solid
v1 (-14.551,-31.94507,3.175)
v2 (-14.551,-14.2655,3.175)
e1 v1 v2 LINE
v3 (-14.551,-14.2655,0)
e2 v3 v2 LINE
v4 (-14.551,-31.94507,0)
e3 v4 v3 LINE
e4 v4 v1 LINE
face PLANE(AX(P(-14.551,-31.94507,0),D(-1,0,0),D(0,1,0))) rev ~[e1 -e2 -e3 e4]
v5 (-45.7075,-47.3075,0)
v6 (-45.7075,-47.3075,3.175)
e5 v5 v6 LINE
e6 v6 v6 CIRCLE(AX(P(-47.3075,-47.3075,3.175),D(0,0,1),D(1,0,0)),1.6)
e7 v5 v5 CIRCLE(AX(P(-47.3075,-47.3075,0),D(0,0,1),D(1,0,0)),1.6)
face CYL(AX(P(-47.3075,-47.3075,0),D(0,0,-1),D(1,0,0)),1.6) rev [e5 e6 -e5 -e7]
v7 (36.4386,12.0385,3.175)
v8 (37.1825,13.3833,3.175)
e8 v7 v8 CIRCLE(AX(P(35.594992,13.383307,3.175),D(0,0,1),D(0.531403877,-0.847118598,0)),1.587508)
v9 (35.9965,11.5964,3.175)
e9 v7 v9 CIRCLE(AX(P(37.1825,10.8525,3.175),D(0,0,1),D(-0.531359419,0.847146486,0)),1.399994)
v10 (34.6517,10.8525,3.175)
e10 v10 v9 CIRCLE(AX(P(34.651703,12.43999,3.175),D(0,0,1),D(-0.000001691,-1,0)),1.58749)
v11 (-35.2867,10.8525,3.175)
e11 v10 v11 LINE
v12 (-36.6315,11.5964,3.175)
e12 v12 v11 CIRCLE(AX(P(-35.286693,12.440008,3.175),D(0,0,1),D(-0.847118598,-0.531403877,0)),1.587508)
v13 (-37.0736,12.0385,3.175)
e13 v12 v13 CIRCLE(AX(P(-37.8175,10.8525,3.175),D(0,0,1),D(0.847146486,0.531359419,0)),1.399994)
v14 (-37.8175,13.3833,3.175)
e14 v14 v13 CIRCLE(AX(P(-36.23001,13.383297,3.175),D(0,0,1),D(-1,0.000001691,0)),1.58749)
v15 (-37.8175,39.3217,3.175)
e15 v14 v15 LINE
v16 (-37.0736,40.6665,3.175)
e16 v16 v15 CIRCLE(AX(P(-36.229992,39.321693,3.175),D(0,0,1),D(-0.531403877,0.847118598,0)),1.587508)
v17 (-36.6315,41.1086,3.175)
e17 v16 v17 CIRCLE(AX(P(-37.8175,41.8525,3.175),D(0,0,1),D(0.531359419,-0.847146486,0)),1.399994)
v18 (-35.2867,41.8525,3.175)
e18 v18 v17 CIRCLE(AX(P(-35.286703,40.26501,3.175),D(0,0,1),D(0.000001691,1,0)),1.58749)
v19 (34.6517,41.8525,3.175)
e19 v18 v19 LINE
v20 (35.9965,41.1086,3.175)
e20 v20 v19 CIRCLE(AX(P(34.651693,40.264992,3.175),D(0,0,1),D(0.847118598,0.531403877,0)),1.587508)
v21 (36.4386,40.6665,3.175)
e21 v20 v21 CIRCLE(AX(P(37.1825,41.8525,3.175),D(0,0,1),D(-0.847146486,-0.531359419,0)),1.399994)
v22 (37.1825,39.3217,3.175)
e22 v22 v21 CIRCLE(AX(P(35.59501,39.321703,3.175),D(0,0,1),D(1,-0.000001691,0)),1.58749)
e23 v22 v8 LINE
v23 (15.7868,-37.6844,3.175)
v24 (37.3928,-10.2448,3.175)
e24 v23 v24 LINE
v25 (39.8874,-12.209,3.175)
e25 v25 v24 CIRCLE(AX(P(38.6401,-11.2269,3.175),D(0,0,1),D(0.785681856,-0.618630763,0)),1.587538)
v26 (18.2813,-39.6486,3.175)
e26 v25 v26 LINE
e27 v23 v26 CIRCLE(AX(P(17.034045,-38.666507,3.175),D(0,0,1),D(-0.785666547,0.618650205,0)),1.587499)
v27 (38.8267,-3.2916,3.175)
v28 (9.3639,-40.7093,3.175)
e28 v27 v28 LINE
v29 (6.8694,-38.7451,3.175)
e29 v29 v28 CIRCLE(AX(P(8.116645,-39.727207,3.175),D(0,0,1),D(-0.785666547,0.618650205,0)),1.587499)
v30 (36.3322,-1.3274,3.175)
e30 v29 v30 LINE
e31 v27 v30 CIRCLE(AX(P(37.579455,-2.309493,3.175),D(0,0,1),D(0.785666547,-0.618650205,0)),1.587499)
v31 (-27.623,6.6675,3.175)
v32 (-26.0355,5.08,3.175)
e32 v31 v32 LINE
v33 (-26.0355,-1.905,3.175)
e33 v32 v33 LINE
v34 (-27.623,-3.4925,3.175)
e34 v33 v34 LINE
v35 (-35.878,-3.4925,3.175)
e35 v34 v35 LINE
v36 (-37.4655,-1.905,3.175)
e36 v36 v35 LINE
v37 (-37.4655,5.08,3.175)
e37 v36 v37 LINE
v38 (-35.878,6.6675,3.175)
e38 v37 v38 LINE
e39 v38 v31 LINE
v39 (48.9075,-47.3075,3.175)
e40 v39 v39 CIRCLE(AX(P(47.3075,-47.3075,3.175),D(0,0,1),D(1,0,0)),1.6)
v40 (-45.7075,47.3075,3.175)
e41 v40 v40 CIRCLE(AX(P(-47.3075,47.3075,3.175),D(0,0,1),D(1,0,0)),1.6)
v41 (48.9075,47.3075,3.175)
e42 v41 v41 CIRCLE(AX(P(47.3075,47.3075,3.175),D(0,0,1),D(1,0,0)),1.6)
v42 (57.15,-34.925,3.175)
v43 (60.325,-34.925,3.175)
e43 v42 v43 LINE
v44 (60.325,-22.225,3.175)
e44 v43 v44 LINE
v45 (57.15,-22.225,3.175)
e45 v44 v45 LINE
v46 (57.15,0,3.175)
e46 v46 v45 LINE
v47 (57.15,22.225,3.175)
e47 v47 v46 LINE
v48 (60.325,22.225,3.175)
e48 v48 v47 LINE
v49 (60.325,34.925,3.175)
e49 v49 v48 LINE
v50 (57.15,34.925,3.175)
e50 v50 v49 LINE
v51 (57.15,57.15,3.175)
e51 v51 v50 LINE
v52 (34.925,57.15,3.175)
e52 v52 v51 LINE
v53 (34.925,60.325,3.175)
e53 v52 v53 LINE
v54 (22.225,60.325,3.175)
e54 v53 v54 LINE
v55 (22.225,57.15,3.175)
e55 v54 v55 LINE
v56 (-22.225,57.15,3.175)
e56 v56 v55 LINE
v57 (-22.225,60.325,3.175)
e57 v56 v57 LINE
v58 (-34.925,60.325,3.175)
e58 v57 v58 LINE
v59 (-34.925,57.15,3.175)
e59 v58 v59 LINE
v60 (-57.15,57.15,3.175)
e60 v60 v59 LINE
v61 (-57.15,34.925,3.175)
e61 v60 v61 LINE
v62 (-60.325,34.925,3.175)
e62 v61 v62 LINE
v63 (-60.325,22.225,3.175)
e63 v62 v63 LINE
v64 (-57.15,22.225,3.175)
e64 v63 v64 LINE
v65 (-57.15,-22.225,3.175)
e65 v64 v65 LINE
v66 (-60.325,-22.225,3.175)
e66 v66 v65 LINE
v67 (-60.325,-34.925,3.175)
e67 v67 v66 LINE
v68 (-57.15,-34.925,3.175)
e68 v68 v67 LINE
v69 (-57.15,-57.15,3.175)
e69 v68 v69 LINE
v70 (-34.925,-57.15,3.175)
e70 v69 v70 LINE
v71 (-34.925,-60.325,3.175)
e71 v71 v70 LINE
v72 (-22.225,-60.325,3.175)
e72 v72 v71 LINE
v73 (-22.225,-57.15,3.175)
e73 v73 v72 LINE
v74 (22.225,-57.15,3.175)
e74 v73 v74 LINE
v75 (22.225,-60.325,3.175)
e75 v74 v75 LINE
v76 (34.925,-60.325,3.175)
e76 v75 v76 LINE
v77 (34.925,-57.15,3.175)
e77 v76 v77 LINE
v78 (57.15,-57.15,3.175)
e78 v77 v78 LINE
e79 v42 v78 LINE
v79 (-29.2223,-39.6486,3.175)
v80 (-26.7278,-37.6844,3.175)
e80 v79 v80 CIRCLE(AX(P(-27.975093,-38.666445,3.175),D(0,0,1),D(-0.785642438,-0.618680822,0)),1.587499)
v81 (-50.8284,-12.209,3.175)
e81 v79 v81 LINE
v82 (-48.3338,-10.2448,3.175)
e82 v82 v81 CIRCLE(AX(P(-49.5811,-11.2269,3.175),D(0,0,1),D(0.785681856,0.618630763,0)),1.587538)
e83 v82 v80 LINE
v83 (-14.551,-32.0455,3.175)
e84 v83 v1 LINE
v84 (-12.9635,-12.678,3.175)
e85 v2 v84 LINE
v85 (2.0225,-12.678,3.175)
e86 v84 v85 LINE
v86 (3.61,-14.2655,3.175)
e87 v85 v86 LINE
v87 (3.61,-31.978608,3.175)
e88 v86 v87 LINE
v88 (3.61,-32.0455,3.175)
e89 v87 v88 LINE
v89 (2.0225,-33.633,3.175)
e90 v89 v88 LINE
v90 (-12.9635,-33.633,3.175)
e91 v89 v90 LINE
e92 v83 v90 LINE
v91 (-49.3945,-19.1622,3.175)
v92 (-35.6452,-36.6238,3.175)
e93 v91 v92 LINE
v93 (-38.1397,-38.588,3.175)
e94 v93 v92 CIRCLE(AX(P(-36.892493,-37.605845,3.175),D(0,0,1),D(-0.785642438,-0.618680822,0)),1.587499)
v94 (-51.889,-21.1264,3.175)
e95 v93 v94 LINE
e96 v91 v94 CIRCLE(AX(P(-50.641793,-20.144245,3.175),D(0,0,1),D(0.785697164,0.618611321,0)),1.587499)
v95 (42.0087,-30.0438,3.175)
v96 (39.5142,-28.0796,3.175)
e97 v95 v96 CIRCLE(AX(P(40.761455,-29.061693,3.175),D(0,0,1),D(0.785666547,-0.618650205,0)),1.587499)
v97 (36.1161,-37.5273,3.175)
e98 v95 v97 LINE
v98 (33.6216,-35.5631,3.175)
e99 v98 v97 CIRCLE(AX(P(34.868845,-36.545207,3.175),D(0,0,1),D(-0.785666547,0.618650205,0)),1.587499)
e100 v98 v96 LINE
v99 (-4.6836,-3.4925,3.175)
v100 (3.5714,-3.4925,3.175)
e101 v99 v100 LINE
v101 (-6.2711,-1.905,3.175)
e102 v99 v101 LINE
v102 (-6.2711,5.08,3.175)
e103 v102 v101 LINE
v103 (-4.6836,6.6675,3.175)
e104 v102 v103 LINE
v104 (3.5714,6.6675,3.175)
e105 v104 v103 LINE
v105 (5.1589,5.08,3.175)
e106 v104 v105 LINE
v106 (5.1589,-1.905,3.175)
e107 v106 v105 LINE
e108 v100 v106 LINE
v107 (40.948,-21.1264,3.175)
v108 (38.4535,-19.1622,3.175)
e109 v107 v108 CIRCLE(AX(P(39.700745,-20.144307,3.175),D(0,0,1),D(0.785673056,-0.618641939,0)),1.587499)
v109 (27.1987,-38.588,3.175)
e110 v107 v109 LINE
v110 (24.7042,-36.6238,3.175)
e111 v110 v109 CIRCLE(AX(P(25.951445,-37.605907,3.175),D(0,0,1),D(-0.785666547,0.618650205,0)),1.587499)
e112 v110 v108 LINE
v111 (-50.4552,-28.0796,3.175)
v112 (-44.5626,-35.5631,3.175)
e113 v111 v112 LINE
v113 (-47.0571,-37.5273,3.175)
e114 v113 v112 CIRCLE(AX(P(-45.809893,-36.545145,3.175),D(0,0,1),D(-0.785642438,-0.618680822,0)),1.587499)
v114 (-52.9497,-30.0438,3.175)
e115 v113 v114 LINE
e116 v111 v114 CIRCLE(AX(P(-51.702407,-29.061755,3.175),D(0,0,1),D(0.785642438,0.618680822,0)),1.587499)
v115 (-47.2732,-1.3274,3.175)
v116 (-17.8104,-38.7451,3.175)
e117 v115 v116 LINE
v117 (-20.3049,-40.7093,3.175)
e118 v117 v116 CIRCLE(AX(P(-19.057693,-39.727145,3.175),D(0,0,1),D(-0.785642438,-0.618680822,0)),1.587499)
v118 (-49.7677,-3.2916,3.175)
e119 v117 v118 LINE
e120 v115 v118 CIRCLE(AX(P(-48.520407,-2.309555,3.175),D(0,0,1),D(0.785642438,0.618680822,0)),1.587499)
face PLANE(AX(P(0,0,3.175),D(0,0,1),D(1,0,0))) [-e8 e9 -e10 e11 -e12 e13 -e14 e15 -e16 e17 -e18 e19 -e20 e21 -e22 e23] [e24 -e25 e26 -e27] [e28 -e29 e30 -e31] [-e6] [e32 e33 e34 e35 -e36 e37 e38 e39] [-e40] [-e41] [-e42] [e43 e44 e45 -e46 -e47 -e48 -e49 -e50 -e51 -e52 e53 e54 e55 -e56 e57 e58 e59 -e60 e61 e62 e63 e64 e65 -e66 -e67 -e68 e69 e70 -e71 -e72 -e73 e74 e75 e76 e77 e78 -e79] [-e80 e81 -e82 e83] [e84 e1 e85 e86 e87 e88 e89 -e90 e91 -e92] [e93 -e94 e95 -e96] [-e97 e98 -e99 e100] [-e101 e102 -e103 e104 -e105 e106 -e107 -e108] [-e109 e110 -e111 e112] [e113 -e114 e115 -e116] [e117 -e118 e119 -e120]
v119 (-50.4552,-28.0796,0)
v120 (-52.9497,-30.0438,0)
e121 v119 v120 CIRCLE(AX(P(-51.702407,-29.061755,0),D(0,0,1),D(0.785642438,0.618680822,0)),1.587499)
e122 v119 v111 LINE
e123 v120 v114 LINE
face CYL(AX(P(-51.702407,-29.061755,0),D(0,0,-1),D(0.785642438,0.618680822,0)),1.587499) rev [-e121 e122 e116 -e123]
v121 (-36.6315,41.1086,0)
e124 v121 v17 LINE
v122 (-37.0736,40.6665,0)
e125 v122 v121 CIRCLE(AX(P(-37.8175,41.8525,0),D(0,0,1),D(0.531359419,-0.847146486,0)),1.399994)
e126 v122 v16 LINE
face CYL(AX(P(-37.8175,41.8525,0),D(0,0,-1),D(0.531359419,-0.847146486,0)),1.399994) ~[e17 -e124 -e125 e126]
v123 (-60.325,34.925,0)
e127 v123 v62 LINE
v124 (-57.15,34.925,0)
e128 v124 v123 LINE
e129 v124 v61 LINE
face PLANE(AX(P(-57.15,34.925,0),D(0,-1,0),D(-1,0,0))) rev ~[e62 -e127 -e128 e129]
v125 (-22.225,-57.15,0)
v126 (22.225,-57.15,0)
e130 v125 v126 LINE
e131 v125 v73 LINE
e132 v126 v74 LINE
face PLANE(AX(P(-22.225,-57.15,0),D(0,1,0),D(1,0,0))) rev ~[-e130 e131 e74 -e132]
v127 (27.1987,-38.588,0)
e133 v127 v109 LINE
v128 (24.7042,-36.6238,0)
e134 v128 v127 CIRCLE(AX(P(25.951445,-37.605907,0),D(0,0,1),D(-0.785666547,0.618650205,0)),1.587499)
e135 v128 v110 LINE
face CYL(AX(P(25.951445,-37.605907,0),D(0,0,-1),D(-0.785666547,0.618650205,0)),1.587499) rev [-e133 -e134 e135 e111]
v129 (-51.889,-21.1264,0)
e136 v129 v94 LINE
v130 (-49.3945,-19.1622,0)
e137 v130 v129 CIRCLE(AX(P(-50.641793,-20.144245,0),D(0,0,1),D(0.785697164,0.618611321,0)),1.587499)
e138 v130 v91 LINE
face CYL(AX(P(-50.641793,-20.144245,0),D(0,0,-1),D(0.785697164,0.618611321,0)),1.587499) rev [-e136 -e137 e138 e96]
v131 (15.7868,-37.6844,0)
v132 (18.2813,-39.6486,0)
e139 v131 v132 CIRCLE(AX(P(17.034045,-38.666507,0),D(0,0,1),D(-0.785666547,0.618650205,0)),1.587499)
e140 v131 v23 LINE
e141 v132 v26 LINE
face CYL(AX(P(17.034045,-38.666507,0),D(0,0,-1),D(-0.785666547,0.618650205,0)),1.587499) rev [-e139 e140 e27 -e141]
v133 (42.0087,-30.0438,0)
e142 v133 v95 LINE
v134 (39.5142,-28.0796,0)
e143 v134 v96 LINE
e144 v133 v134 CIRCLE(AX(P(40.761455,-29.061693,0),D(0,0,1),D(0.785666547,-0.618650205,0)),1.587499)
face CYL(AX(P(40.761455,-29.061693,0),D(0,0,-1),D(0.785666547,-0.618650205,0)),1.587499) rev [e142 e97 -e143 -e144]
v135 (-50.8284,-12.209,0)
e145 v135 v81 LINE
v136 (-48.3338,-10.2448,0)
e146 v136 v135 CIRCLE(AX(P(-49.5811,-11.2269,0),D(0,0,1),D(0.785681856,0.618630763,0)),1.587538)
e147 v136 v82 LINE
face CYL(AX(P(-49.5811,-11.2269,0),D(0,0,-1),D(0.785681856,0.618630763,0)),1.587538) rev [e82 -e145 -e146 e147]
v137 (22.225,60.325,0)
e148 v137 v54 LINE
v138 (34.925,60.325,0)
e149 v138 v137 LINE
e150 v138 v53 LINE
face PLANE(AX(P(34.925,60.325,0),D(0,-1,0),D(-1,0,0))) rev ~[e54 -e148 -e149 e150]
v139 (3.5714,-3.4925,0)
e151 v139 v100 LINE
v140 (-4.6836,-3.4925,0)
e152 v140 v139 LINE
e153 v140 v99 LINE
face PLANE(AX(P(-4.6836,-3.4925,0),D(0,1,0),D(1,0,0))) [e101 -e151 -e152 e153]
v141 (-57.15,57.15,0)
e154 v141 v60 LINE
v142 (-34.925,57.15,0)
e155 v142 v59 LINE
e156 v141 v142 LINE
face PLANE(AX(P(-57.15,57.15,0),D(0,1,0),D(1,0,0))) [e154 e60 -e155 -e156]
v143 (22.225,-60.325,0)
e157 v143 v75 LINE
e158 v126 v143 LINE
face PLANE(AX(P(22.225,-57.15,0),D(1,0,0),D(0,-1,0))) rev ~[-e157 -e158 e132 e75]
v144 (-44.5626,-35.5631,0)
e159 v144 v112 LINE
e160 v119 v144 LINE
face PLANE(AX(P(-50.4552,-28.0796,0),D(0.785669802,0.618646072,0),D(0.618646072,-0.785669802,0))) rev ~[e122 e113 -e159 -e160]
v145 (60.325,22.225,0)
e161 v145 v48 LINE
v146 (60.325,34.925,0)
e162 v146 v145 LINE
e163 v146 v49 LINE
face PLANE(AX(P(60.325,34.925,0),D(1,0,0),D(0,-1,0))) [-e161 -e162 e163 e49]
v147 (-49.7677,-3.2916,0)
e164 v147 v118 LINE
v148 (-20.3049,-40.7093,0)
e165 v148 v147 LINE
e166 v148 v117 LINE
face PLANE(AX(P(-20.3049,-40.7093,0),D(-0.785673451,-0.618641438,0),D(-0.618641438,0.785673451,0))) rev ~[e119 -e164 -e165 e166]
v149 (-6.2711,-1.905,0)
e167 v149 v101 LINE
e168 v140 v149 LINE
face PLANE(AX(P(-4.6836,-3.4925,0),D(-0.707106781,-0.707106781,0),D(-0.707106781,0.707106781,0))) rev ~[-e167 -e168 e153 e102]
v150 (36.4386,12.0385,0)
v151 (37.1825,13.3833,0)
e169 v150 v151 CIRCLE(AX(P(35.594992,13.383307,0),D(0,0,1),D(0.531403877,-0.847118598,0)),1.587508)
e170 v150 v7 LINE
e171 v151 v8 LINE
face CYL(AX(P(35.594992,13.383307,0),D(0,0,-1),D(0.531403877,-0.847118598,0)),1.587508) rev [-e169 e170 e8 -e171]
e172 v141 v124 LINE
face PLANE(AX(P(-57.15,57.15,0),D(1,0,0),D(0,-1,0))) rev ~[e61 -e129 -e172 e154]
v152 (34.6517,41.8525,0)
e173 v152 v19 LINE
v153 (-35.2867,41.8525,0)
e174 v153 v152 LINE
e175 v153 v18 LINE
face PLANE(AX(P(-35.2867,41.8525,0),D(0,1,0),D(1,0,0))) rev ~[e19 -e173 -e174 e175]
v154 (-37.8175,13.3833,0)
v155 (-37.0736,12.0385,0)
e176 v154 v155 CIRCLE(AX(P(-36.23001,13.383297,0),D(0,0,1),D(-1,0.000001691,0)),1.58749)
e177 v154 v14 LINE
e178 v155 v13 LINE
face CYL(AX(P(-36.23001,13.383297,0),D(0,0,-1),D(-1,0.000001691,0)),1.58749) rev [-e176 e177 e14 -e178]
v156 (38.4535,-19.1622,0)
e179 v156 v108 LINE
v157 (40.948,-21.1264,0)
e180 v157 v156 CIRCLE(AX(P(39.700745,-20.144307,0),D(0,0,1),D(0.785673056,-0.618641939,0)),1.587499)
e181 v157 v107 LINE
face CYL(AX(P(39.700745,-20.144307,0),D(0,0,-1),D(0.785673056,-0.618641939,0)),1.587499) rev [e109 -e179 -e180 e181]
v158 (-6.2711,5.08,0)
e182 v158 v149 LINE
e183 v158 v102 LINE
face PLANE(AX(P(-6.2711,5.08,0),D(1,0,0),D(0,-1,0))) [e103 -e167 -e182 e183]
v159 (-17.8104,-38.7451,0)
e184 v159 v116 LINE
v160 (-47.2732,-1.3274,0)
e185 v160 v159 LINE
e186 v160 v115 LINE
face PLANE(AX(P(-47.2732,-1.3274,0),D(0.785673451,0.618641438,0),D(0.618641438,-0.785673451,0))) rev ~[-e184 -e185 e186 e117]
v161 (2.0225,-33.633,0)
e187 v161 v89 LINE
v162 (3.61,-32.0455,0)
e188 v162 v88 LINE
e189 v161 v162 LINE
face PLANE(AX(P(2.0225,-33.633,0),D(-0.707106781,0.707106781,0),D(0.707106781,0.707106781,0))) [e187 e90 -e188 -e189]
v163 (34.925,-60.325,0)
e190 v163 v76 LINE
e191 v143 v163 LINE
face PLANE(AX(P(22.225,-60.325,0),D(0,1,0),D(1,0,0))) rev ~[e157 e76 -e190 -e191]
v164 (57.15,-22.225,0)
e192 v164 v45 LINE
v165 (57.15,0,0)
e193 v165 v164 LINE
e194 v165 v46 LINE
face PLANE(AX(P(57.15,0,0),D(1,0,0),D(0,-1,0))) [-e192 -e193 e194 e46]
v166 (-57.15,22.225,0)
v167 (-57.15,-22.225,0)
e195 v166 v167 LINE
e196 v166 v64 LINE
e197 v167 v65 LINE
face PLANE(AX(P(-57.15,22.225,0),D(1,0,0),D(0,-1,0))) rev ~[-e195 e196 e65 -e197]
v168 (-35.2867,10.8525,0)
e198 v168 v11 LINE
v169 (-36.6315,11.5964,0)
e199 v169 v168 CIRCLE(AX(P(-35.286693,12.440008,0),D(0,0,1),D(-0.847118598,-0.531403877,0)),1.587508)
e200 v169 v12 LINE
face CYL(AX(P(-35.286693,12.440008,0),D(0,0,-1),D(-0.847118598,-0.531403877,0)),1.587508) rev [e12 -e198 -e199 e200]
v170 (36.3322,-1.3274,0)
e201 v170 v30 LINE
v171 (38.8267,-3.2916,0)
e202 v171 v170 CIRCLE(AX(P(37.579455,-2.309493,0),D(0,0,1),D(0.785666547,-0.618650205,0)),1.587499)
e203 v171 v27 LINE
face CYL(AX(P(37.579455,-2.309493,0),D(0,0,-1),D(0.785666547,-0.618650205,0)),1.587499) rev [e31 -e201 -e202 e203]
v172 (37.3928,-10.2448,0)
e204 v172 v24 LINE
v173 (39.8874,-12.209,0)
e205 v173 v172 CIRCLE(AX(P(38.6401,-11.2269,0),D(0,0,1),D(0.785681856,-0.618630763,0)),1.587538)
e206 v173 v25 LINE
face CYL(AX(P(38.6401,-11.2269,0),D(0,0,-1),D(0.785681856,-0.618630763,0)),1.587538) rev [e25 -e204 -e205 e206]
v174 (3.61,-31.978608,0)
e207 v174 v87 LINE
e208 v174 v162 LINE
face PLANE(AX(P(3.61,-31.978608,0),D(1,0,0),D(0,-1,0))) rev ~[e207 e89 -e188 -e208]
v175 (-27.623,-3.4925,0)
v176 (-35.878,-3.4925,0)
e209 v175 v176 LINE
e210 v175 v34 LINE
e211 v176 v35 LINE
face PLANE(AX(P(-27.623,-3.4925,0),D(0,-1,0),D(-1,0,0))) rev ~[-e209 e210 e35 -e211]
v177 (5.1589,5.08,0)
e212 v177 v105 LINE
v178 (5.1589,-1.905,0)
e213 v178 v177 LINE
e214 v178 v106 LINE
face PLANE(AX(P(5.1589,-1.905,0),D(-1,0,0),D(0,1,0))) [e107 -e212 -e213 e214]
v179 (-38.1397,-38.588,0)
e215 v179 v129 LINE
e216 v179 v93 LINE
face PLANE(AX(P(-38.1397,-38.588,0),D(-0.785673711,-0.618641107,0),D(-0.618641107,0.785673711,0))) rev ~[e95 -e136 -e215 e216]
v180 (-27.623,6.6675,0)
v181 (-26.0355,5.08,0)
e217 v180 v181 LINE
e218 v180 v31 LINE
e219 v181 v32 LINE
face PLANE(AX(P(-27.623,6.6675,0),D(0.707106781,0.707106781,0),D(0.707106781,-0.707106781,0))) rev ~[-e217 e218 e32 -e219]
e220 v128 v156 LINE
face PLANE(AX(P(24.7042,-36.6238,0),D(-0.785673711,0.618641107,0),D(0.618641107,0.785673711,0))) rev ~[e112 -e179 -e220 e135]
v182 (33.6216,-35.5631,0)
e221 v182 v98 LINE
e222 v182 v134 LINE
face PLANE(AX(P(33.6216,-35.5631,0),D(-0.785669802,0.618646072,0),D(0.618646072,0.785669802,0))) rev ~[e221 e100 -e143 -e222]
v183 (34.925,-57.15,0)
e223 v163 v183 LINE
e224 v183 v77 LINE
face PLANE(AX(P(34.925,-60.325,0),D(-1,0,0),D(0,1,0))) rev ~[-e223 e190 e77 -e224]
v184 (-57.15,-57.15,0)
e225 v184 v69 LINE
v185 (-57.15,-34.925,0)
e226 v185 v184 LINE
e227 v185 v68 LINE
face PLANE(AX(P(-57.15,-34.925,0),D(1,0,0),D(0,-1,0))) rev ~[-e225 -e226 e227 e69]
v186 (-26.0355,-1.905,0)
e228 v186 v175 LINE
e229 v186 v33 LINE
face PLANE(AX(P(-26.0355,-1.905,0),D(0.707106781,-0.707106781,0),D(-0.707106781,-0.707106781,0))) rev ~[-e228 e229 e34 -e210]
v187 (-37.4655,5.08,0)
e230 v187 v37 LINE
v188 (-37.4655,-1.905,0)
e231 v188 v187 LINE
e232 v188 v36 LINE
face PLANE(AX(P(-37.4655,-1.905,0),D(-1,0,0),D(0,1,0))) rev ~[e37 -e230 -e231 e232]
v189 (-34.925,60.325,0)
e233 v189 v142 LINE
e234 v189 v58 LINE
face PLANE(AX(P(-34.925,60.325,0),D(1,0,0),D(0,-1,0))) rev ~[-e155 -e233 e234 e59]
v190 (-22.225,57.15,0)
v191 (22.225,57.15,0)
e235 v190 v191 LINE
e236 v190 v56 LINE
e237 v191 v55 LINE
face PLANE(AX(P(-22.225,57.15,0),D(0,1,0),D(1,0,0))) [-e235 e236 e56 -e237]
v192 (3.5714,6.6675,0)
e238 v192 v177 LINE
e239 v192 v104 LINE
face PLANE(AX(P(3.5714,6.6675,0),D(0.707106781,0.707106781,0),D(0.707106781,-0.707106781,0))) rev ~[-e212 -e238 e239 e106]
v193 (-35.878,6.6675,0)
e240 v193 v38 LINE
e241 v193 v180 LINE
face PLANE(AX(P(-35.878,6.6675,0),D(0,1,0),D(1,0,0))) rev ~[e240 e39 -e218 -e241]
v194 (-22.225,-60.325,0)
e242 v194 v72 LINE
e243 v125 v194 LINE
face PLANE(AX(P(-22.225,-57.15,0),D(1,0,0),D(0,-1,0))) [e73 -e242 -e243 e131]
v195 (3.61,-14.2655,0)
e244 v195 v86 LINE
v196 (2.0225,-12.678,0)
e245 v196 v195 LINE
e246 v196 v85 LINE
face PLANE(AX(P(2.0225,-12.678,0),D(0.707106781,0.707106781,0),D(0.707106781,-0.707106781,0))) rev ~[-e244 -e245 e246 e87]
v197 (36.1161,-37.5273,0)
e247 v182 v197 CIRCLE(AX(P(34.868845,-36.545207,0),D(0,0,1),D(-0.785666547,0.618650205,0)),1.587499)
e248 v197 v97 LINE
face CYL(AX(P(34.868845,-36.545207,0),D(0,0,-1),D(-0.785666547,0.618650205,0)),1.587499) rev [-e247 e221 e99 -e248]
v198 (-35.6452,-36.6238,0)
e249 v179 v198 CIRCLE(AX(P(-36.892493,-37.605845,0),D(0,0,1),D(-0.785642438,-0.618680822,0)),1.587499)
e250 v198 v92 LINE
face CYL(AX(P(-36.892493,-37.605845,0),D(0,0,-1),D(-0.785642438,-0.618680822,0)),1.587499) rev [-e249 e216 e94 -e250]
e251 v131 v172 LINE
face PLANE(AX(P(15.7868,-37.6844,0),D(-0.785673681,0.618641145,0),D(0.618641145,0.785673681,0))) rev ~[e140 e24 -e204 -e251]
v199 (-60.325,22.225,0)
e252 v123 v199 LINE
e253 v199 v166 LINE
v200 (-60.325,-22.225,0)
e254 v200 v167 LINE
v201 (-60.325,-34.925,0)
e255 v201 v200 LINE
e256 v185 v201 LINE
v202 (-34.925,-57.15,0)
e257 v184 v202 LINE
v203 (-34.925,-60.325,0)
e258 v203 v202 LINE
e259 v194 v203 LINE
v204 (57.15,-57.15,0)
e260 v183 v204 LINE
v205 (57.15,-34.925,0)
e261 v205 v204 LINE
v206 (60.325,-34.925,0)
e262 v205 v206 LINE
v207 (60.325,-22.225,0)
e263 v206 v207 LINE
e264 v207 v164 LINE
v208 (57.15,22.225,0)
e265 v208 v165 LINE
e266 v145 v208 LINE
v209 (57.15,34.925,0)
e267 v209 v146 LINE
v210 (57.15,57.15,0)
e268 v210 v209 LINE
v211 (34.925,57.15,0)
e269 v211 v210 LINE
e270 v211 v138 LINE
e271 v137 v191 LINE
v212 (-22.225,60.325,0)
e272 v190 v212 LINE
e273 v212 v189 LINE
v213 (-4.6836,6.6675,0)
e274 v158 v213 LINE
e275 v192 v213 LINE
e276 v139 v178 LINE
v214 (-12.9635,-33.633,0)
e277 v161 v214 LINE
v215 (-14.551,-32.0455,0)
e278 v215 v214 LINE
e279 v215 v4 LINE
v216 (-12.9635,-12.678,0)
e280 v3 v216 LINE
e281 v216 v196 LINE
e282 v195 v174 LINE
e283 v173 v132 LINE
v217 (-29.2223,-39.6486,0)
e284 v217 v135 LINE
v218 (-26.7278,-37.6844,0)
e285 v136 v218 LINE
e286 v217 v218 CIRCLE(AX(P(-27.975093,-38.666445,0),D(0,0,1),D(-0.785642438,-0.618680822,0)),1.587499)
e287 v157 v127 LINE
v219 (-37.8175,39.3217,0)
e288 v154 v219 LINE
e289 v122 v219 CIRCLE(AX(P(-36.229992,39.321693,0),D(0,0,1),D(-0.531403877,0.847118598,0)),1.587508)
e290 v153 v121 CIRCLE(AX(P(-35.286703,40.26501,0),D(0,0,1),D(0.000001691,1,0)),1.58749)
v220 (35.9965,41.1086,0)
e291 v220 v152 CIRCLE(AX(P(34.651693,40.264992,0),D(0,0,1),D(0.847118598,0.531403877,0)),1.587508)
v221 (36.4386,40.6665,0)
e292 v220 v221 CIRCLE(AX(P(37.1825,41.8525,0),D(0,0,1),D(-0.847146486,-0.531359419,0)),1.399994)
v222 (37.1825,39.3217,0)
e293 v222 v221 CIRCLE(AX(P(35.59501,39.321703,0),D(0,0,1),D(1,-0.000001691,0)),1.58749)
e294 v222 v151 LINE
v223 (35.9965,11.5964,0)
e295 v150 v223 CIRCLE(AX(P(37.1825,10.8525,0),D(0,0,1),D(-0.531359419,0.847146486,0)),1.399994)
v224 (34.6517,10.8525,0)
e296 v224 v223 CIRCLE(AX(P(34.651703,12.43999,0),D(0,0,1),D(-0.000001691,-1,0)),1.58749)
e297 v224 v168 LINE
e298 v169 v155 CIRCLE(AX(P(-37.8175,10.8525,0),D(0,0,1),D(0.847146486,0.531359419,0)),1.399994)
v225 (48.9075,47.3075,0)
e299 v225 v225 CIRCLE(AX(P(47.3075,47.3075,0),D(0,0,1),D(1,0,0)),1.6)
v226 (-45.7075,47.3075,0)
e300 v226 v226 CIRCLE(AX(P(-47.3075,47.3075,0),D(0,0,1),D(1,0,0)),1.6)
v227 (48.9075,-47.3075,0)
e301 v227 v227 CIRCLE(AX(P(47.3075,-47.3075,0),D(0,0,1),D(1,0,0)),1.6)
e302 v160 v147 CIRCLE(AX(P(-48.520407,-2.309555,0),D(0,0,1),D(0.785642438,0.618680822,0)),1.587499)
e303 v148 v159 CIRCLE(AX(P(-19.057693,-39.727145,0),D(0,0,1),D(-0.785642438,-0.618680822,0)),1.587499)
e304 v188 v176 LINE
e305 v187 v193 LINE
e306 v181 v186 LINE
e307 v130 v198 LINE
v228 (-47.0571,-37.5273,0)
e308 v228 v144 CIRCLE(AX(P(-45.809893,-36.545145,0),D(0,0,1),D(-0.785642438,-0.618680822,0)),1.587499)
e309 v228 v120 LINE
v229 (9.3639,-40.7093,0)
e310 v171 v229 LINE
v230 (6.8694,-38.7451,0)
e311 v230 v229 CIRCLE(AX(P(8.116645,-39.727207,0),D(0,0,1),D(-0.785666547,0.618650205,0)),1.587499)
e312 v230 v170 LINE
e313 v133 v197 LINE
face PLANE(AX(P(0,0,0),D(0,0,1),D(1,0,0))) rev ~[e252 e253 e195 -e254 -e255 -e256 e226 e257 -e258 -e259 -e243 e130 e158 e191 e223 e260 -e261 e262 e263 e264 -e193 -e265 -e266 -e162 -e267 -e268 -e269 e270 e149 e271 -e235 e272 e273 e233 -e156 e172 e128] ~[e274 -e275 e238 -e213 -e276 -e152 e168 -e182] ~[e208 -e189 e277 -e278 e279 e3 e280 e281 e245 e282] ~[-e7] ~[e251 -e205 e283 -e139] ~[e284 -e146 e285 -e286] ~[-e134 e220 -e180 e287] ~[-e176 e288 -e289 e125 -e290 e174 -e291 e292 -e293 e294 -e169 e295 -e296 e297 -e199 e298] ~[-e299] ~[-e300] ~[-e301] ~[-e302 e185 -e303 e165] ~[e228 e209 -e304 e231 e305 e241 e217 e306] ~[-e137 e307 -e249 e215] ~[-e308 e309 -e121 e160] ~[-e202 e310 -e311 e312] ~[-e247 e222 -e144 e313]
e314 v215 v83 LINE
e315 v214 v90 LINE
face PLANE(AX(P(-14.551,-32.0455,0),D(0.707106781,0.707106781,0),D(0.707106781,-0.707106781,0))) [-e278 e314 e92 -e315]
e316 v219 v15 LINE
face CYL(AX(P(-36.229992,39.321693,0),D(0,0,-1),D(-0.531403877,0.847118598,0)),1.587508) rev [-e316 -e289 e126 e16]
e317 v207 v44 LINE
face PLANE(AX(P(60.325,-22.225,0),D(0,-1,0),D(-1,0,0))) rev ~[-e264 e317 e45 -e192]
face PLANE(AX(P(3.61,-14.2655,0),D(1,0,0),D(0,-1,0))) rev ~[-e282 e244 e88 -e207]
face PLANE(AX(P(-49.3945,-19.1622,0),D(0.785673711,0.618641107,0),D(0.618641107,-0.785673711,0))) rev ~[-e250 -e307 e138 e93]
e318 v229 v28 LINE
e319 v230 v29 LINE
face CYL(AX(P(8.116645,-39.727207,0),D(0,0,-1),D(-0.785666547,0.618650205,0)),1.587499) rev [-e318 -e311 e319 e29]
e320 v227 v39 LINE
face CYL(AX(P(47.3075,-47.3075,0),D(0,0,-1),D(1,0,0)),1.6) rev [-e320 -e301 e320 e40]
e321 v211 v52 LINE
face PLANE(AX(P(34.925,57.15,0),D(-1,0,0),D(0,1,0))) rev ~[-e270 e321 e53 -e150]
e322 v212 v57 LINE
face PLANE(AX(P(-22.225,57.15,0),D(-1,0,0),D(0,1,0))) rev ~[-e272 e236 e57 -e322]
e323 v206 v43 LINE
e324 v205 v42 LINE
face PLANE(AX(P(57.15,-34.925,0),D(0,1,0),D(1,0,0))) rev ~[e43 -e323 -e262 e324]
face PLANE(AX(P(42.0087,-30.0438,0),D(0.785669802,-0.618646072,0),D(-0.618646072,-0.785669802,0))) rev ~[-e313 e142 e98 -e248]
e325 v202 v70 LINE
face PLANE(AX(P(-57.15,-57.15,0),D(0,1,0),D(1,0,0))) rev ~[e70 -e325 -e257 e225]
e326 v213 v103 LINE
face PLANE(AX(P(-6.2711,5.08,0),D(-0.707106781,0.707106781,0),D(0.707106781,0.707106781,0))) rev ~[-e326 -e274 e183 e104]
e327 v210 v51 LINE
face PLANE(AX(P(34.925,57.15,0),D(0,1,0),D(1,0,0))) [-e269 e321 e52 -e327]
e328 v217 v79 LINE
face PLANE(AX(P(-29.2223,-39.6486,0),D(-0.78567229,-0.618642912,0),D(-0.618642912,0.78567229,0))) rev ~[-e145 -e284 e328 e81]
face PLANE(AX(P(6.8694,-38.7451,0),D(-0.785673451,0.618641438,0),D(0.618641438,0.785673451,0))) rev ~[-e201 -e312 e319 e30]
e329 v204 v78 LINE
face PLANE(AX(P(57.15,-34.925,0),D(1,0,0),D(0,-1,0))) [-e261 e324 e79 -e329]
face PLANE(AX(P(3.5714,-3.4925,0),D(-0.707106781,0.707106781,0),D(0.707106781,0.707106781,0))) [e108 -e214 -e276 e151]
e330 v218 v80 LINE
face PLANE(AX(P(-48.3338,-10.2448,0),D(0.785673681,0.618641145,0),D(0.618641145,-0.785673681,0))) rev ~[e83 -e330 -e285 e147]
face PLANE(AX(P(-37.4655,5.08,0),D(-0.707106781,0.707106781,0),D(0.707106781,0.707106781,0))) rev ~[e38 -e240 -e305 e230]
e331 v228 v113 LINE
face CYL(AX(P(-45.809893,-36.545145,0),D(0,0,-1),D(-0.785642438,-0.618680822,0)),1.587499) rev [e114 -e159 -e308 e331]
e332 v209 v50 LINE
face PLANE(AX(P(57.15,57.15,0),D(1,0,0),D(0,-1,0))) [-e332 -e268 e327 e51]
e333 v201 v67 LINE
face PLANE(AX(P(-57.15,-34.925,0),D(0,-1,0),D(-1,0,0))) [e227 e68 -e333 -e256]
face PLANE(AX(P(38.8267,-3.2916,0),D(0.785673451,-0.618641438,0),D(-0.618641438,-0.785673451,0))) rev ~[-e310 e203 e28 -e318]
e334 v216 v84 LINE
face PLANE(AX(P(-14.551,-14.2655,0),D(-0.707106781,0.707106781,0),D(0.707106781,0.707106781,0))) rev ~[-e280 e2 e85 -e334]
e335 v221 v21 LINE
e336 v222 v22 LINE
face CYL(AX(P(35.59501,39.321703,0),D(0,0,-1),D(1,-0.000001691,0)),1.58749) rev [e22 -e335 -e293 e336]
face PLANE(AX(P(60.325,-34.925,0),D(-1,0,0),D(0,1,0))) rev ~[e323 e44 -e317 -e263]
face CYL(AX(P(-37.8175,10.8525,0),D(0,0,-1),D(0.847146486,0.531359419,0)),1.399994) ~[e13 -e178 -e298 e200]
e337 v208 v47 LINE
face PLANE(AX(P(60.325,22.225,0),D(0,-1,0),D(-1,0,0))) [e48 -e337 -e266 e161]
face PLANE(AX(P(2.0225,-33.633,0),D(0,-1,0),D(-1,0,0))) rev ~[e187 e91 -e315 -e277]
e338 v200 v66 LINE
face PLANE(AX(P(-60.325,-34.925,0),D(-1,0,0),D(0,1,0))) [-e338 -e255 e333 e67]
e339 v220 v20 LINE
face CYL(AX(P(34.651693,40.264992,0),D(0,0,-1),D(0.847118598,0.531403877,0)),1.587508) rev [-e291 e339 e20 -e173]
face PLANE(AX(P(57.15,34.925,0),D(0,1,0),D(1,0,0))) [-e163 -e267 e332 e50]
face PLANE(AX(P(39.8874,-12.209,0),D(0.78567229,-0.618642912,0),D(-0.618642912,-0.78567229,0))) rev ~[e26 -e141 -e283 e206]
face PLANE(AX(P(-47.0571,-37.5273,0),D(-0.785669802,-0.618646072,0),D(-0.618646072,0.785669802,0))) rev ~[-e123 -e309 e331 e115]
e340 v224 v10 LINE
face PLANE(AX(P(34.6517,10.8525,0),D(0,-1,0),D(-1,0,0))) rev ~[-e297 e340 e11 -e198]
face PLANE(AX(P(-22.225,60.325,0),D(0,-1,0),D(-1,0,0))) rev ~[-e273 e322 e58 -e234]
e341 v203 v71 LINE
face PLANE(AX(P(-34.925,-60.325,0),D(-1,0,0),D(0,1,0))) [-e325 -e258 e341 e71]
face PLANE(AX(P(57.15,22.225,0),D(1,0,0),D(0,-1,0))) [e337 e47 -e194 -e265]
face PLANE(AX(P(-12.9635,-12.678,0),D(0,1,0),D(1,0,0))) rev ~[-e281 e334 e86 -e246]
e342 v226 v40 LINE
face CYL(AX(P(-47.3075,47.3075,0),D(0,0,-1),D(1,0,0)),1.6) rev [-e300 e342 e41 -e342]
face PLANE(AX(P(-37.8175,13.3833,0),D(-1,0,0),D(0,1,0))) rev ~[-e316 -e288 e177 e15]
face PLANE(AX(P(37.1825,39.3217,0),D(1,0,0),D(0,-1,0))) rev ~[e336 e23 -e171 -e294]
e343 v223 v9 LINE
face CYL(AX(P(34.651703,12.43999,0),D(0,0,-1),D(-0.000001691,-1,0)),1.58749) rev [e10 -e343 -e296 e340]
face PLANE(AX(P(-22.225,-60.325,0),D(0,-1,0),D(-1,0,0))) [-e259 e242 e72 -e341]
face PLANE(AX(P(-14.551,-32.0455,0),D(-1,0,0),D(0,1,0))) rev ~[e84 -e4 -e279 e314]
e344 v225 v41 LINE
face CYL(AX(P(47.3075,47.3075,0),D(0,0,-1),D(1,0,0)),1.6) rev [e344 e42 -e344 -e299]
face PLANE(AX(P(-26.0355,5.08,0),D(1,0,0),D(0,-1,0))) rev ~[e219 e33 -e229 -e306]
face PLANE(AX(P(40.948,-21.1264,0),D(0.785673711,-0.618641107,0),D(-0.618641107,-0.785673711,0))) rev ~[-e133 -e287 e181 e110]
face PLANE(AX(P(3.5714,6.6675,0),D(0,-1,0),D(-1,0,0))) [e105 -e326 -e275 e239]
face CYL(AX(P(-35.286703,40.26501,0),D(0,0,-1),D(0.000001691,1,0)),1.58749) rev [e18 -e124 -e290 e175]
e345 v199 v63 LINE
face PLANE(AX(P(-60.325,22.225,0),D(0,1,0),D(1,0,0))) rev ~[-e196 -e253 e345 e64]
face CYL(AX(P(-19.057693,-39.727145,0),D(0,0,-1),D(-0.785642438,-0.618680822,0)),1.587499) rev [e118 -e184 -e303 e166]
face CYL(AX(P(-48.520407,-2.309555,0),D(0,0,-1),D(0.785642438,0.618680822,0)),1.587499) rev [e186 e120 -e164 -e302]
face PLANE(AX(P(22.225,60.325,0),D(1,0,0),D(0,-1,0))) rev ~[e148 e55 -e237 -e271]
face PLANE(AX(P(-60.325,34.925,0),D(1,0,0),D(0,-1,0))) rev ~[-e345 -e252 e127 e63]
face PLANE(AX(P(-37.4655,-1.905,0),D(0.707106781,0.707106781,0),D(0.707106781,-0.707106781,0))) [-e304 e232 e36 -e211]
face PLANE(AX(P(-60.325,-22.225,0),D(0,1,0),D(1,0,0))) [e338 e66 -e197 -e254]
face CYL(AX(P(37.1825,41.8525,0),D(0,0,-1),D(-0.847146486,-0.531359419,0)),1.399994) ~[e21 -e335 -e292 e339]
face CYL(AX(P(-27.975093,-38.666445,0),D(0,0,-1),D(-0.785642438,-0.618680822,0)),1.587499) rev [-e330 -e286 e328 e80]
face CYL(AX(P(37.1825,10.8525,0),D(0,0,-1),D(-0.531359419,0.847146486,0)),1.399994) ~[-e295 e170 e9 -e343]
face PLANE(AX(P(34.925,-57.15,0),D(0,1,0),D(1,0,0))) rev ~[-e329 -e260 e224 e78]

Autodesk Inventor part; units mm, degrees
ref_plane "YZ Plane" through (0, 0, 0) normal (1, 0, 0) x (0, 1, 0)
ref_plane "XZ Plane" through (0, 0, 0) normal (0, 1, 0) x (-1, 0, 0)
ref_plane "XY Plane" through (0, 0, 0) normal (0, 0, 1) x (1, 0, 0)
sketch "Sketch1" plane through (0, 0, 0) normal (0, 0, 1) x (1, 0, 0)
  arc A0 (38.8267, -3.2916) -> (36.3322, -1.3274) centre (37.5794, -2.3095) ccw projected
  line L0 (38.8267, -3.2916) -> (9.3639, -40.7093) projected
  arc A1 (6.8694, -38.7451) -> (9.3639, -40.7093) centre (8.1167, -39.7272) ccw projected
  line L1 (6.8694, -38.7451) -> (36.3322, -1.3274) projected
  line L2 (39.8874, -12.209) -> (18.2813, -39.6486) projected
  arc A2 (15.7868, -37.6844) -> (18.2813, -39.6486) centre (17.0341, -38.6665) ccw projected
  line L3 (15.7868, -37.6844) -> (37.3928, -10.2448) projected
  arc A3 (39.8874, -12.209) -> (37.3928, -10.2448) centre (38.6401, -11.2269) ccw projected
  arc A4 (24.7042, -36.6238) -> (27.1987, -38.588) centre (25.9515, -37.6059) ccw projected
  line L4 (24.7042, -36.6238) -> (38.4535, -19.1622) projected
  arc A5 (40.948, -21.1264) -> (38.4535, -19.1622) centre (39.7008, -20.1443) ccw projected
  line L5 (40.948, -21.1264) -> (27.1987, -38.588) projected
  arc A6 (33.6216, -35.5631) -> (36.1161, -37.5273) centre (34.8689, -36.5452) ccw projected
  line L6 (33.6216, -35.5631) -> (39.5142, -28.0796) projected
  arc A7 (42.0087, -30.0438) -> (39.5142, -28.0796) centre (40.7614, -29.0617) ccw projected
  line L7 (42.0087, -30.0438) -> (36.1161, -37.5273) projected
  arc A8 (-50.4552, -28.0796) -> (-52.9497, -30.0438) centre (-51.7024, -29.0617) ccw projected
  line L8 (-50.4552, -28.0796) -> (-44.5626, -35.5631) projected
  arc A9 (-47.0571, -37.5273) -> (-44.5626, -35.5631) centre (-45.8099, -36.5452) ccw projected
  line L9 (-47.0571, -37.5273) -> (-52.9497, -30.0438) projected
  arc A10 (-49.3945, -19.1622) -> (-51.889, -21.1264) centre (-50.6418, -20.1443) ccw projected
  line L10 (-49.3945, -19.1622) -> (-35.6452, -36.6238) projected
  arc A11 (-38.1397, -38.588) -> (-35.6452, -36.6238) centre (-36.8925, -37.6059) ccw projected
  line L11 (-38.1397, -38.588) -> (-51.889, -21.1264) projected
  arc A12 (-48.3338, -10.2448) -> (-50.8284, -12.209) centre (-49.5811, -11.2269) ccw projected
  line L12 (-48.3338, -10.2448) -> (-26.7278, -37.6844) projected
  arc A13 (-29.2223, -39.6486) -> (-26.7278, -37.6844) centre (-27.9751, -38.6665) ccw projected
  line L13 (-29.2223, -39.6486) -> (-50.8284, -12.209) projected
  line L14 (-20.3049, -40.7093) -> (-49.7677, -3.2916) projected
  arc A14 (-47.2732, -1.3274) -> (-49.7677, -3.2916) centre (-48.5204, -2.3095) ccw projected
  line L15 (-47.2732, -1.3274) -> (-17.8104, -38.7451) projected
  arc A15 (-20.3049, -40.7093) -> (-17.8104, -38.7451) centre (-19.0577, -39.7272) ccw projected
  circle A16 centre (-47.3075, -47.3075) radius 1.6 projected
  circle A17 centre (47.3075, 47.3075) radius 1.6 projected
  circle A18 centre (-47.3075, 47.3075) radius 1.6 projected
  circle A19 centre (47.3075, -47.3075) radius 1.6 projected
  line L16 (-35.2867, 41.8525) -> (34.6517, 41.8525) projected
  arc A20 (35.9965, 41.1086) -> (34.6517, 41.8525) centre (34.6517, 40.265) ccw projected
  arc A21 (35.9965, 41.1086) -> (36.4386, 40.6665) centre (37.1825, 41.8525) ccw projected
  arc A22 (37.1825, 39.3217) -> (36.4386, 40.6665) centre (35.595, 39.3217) ccw projected
  line L17 (37.1825, 39.3217) -> (37.1825, 13.3833) projected
  arc A23 (36.4386, 12.0385) -> (37.1825, 13.3833) centre (35.595, 13.3833) ccw projected
  arc A24 (36.4386, 12.0385) -> (35.9965, 11.5964) centre (37.1825, 10.8525) ccw projected
  arc A25 (34.6517, 10.8525) -> (35.9965, 11.5964) centre (34.6517, 12.44) ccw projected
  line L18 (34.6517, 10.8525) -> (-35.2867, 10.8525) projected
  arc A26 (-36.6315, 11.5964) -> (-35.2867, 10.8525) centre (-35.2867, 12.44) ccw projected
  arc A27 (-36.6315, 11.5964) -> (-37.0736, 12.0385) centre (-37.8175, 10.8525) ccw projected
  arc A28 (-37.8175, 13.3833) -> (-37.0736, 12.0385) centre (-36.23, 13.3833) ccw projected
  line L19 (-37.8175, 13.3833) -> (-37.8175, 39.3217) projected
  arc A29 (-37.0736, 40.6665) -> (-37.8175, 39.3217) centre (-36.23, 39.3217) ccw projected
  arc A30 (-37.0736, 40.6665) -> (-36.6315, 41.1086) centre (-37.8175, 41.8525) ccw projected
  arc A31 (-35.2867, 41.8525) -> (-36.6315, 41.1086) centre (-35.2867, 40.265) ccw projected
  arc A32 (4.2545, -30.2586) -> (4.2545, -31.0524) centre (5.8045, -30.6555) ccw projected
  arc A33 (2.7142, -32.2555) -> (4.2545, -31.0524) centre (2.7142, -30.668) ccw projected
  line L20 (2.7142, -32.2555) -> (-13.608, -32.2555) projected
  arc A34 (-15.1955, -30.668) -> (-13.608, -32.2555) centre (-13.608, -30.668) ccw projected
  line L21 (-5.4705, -14.0555) -> (12.7295, -14.0555) construction
  line L22 (-14.551, -32.0455) -> (-14.551, -14.2655)
  line L23 (-12.9635, -12.678) -> (2.0225, -12.678)
  line L24 (3.61, -14.2655) -> (3.61, -32.0455)
  line L25 (2.0225, -33.633) -> (-12.9635, -33.633)
  line L26 (-14.551, -33.633) -> (3.61, -12.678) construction
  line L27 (-14.551, -12.678) -> (3.61, -33.633) construction
  line L28 (-14.551, -14.2655) -> (-12.9635, -12.678)
  line L29 (2.0225, -12.678) -> (3.61, -14.2655)
  line L30 (2.0225, -33.633) -> (3.61, -32.0455)
  line L31 (-14.551, -32.0455) -> (-12.9635, -33.633)
  line L32 (-4.6836, -3.4925) -> (3.5714, -3.4925)
  line L33 (5.1589, -1.905) -> (5.1589, 5.08)
  line L34 (3.5714, 6.6675) -> (-4.6836, 6.6675)
  line L35 (-6.2711, 5.08) -> (-6.2711, -1.905)
  line L36 (-6.2711, -3.4925) -> (5.1589, 6.6675) construction
  line L37 (5.1589, -3.4925) -> (-6.2711, 6.6675) construction
  line L38 (-6.2711, -3.4925) -> (1.9839, -3.4925) construction
  line L39 (-37.4655, -1.905) -> (-37.4655, 5.08)
  line L40 (-35.878, 6.6675) -> (-27.623, 6.6675)
  line L41 (-26.0355, 5.08) -> (-26.0355, -1.905)
  line L42 (-27.623, -3.4925) -> (-35.878, -3.4925)
  line L43 (-37.4655, -3.4925) -> (-26.0355, 6.6675) construction
  line L44 (-37.4655, 6.6675) -> (-26.0355, -3.4925) construction
  line L45 (-37.4655, 5.08) -> (-35.878, 6.6675)
  line L46 (-37.4655, -1.905) -> (-35.878, -3.4925)
  line L47 (-26.0355, -1.905) -> (-27.623, -3.4925)
  line L48 (-27.623, 6.6675) -> (-26.0355, 5.08)
  line L49 (-6.2711, 5.08) -> (-4.6836, 6.6675)
  line L50 (-4.6836, -3.4925) -> (-6.2711, -1.905)
  line L51 (3.5714, -3.4925) -> (5.1589, -1.905)
  line L52 (3.5714, 6.6675) -> (5.1589, 5.08)
  line L53 (34.925, 57.15) -> (34.925, 60.325)
  line L54 (34.925, 60.325) -> (22.225, 60.325)
  line L55 (22.225, 60.325) -> (22.225, 57.15)
  line L56 (-22.225, 57.15) -> (-22.225, 60.325)
  line L57 (-22.225, 60.325) -> (-34.925, 60.325)
  line L58 (-34.925, 60.325) -> (-34.925, 57.15)
  line L59 (-57.15, 57.15) -> (-34.925, 57.15)
  line L60 (-22.225, 57.15) -> (22.225, 57.15)
  line L61 (34.925, 57.15) -> (57.15, 57.15)
  line L62 (57.15, 0) -> (47.3075, 0)
  line L63 (-22.225, -57.15) -> (-22.225, -60.325)
  line L64 (-22.225, -60.325) -> (-34.925, -60.325)
  line L65 (-34.925, -60.325) -> (-34.925, -57.15)
  line L66 (22.225, -57.15) -> (22.225, -60.325)
  line L67 (22.225, -60.325) -> (34.925, -60.325)
  line L68 (34.925, -60.325) -> (34.925, -57.15)
  line L69 (-57.15, -57.15) -> (-34.925, -57.15)
  line L70 (-22.225, -57.15) -> (22.225, -57.15)
  line L71 (34.925, -57.15) -> (57.15, -57.15)
  line L72 (57.15, 34.925) -> (60.325, 34.925)
  line L73 (60.325, 34.925) -> (60.325, 22.225)
  line L74 (60.325, 22.225) -> (57.15, 22.225)
  line L75 (57.15, -57.15) -> (79.375, -57.15) construction
  line L76 (57.15, -34.925) -> (60.325, -34.925)
  line L77 (60.325, -34.925) -> (60.325, -22.225)
  line L78 (60.325, -22.225) -> (57.15, -22.225)
  line L79 (57.15, 57.15) -> (57.15, 34.925)
  line L80 (57.15, 22.225) -> (57.15, -22.225)
  line L81 (57.15, -34.925) -> (57.15, -57.15)
  line L82 (-57.15, 34.925) -> (-60.325, 34.925)
  line L83 (-60.325, 34.925) -> (-60.325, 22.225)
  line L84 (-60.325, 22.225) -> (-57.15, 22.225)
  line L85 (-57.15, -34.925) -> (-60.325, -34.925)
  line L86 (-60.325, -34.925) -> (-60.325, -22.225)
  line L87 (-60.325, -22.225) -> (-57.15, -22.225)
  line L88 (-57.15, 57.15) -> (-57.15, 34.925)
  line L89 (-57.15, 22.225) -> (-57.15, -22.225)
  line L90 (-57.15, -34.925) -> (-57.15, -57.15)
  point P0 (-5.4705, -23.1555)
  dimension "d1" = 20.955
  dimension "d2" = 18.161
  dimension "d3" = 1.5875
  dimension "d4" = 1.5875
  dimension "d5" = 1.5875
  dimension "d6" = 1.5875
  dimension "d7" = 1.5875
  dimension "d8" = 1.5875
  dimension "d9" = 1.5875
  dimension "d10" = 1.5875
  dimension "d11" = 11.43
  dimension "d12" = 0
  dimension "d13" = 10.16
  dimension "d14" = 11.43
  dimension "d15" = 1.5875
  dimension "d16" = 1.5875
  dimension "d17" = 1.5875
  dimension "d18" = 1.5875
  dimension "d19" = 1.5875
  dimension "d20" = 1.5875
  dimension "d21" = 1.5875
  dimension "d22" = 1.5875
  dimension "d23" = 1.5875
  dimension "d24" = 1.5875
  dimension "d25" = 1.5875
  dimension "d26" = 1.5875
  dimension "d27" = 1.5875
  dimension "d28" = 1.5875
  dimension "d29" = 1.5875
  dimension "d30" = 1.5875
  dimension "d36" = 3.175
  dimension "d38" = 12.7
  dimension "d39" = 3.175
  dimension "d40" = 12.7
  dimension "d41" = 3.175
  dimension "d42" = 12.7
  dimension "d43" = 22.225
  dimension "d44" = 3.175
  dimension "d45" = 12.7
  dimension "d46" = 22.225
  dimension "d48" = 12.7
  dimension "d49" = 3.175
  dimension "d50" = 12.7
extrude "Extrusion1" add sketch "Sketch1" along normal blind 3.175
equation "\"d4\" = d3"
equation "\"d5\" = d3"
equation "\"d6\" = d5"
equation "\"d7\" = d3"
equation "\"d8\" = d7"
equation "\"d9\" = d3"
equation "\"d10\" = d9"
equation "\"d16\" = d15"
equation "\"d18\" = d17"
equation "\"d19\" = d17"
equation "\"d20\" = d19"
equation "\"d21\" = d17"
equation "\"d22\" = d21"
equation "\"d23\" = d17"
equation "\"d24\" = d23"
equation "\"d25\" = d17"
equation "\"d26\" = d25"
equation "\"d27\" = d17"
equation "\"d28\" = d27"
equation "\"d29\" = d17"
equation "\"d30\" = d29"
properties part number "Face" material "ABS Plastic"
